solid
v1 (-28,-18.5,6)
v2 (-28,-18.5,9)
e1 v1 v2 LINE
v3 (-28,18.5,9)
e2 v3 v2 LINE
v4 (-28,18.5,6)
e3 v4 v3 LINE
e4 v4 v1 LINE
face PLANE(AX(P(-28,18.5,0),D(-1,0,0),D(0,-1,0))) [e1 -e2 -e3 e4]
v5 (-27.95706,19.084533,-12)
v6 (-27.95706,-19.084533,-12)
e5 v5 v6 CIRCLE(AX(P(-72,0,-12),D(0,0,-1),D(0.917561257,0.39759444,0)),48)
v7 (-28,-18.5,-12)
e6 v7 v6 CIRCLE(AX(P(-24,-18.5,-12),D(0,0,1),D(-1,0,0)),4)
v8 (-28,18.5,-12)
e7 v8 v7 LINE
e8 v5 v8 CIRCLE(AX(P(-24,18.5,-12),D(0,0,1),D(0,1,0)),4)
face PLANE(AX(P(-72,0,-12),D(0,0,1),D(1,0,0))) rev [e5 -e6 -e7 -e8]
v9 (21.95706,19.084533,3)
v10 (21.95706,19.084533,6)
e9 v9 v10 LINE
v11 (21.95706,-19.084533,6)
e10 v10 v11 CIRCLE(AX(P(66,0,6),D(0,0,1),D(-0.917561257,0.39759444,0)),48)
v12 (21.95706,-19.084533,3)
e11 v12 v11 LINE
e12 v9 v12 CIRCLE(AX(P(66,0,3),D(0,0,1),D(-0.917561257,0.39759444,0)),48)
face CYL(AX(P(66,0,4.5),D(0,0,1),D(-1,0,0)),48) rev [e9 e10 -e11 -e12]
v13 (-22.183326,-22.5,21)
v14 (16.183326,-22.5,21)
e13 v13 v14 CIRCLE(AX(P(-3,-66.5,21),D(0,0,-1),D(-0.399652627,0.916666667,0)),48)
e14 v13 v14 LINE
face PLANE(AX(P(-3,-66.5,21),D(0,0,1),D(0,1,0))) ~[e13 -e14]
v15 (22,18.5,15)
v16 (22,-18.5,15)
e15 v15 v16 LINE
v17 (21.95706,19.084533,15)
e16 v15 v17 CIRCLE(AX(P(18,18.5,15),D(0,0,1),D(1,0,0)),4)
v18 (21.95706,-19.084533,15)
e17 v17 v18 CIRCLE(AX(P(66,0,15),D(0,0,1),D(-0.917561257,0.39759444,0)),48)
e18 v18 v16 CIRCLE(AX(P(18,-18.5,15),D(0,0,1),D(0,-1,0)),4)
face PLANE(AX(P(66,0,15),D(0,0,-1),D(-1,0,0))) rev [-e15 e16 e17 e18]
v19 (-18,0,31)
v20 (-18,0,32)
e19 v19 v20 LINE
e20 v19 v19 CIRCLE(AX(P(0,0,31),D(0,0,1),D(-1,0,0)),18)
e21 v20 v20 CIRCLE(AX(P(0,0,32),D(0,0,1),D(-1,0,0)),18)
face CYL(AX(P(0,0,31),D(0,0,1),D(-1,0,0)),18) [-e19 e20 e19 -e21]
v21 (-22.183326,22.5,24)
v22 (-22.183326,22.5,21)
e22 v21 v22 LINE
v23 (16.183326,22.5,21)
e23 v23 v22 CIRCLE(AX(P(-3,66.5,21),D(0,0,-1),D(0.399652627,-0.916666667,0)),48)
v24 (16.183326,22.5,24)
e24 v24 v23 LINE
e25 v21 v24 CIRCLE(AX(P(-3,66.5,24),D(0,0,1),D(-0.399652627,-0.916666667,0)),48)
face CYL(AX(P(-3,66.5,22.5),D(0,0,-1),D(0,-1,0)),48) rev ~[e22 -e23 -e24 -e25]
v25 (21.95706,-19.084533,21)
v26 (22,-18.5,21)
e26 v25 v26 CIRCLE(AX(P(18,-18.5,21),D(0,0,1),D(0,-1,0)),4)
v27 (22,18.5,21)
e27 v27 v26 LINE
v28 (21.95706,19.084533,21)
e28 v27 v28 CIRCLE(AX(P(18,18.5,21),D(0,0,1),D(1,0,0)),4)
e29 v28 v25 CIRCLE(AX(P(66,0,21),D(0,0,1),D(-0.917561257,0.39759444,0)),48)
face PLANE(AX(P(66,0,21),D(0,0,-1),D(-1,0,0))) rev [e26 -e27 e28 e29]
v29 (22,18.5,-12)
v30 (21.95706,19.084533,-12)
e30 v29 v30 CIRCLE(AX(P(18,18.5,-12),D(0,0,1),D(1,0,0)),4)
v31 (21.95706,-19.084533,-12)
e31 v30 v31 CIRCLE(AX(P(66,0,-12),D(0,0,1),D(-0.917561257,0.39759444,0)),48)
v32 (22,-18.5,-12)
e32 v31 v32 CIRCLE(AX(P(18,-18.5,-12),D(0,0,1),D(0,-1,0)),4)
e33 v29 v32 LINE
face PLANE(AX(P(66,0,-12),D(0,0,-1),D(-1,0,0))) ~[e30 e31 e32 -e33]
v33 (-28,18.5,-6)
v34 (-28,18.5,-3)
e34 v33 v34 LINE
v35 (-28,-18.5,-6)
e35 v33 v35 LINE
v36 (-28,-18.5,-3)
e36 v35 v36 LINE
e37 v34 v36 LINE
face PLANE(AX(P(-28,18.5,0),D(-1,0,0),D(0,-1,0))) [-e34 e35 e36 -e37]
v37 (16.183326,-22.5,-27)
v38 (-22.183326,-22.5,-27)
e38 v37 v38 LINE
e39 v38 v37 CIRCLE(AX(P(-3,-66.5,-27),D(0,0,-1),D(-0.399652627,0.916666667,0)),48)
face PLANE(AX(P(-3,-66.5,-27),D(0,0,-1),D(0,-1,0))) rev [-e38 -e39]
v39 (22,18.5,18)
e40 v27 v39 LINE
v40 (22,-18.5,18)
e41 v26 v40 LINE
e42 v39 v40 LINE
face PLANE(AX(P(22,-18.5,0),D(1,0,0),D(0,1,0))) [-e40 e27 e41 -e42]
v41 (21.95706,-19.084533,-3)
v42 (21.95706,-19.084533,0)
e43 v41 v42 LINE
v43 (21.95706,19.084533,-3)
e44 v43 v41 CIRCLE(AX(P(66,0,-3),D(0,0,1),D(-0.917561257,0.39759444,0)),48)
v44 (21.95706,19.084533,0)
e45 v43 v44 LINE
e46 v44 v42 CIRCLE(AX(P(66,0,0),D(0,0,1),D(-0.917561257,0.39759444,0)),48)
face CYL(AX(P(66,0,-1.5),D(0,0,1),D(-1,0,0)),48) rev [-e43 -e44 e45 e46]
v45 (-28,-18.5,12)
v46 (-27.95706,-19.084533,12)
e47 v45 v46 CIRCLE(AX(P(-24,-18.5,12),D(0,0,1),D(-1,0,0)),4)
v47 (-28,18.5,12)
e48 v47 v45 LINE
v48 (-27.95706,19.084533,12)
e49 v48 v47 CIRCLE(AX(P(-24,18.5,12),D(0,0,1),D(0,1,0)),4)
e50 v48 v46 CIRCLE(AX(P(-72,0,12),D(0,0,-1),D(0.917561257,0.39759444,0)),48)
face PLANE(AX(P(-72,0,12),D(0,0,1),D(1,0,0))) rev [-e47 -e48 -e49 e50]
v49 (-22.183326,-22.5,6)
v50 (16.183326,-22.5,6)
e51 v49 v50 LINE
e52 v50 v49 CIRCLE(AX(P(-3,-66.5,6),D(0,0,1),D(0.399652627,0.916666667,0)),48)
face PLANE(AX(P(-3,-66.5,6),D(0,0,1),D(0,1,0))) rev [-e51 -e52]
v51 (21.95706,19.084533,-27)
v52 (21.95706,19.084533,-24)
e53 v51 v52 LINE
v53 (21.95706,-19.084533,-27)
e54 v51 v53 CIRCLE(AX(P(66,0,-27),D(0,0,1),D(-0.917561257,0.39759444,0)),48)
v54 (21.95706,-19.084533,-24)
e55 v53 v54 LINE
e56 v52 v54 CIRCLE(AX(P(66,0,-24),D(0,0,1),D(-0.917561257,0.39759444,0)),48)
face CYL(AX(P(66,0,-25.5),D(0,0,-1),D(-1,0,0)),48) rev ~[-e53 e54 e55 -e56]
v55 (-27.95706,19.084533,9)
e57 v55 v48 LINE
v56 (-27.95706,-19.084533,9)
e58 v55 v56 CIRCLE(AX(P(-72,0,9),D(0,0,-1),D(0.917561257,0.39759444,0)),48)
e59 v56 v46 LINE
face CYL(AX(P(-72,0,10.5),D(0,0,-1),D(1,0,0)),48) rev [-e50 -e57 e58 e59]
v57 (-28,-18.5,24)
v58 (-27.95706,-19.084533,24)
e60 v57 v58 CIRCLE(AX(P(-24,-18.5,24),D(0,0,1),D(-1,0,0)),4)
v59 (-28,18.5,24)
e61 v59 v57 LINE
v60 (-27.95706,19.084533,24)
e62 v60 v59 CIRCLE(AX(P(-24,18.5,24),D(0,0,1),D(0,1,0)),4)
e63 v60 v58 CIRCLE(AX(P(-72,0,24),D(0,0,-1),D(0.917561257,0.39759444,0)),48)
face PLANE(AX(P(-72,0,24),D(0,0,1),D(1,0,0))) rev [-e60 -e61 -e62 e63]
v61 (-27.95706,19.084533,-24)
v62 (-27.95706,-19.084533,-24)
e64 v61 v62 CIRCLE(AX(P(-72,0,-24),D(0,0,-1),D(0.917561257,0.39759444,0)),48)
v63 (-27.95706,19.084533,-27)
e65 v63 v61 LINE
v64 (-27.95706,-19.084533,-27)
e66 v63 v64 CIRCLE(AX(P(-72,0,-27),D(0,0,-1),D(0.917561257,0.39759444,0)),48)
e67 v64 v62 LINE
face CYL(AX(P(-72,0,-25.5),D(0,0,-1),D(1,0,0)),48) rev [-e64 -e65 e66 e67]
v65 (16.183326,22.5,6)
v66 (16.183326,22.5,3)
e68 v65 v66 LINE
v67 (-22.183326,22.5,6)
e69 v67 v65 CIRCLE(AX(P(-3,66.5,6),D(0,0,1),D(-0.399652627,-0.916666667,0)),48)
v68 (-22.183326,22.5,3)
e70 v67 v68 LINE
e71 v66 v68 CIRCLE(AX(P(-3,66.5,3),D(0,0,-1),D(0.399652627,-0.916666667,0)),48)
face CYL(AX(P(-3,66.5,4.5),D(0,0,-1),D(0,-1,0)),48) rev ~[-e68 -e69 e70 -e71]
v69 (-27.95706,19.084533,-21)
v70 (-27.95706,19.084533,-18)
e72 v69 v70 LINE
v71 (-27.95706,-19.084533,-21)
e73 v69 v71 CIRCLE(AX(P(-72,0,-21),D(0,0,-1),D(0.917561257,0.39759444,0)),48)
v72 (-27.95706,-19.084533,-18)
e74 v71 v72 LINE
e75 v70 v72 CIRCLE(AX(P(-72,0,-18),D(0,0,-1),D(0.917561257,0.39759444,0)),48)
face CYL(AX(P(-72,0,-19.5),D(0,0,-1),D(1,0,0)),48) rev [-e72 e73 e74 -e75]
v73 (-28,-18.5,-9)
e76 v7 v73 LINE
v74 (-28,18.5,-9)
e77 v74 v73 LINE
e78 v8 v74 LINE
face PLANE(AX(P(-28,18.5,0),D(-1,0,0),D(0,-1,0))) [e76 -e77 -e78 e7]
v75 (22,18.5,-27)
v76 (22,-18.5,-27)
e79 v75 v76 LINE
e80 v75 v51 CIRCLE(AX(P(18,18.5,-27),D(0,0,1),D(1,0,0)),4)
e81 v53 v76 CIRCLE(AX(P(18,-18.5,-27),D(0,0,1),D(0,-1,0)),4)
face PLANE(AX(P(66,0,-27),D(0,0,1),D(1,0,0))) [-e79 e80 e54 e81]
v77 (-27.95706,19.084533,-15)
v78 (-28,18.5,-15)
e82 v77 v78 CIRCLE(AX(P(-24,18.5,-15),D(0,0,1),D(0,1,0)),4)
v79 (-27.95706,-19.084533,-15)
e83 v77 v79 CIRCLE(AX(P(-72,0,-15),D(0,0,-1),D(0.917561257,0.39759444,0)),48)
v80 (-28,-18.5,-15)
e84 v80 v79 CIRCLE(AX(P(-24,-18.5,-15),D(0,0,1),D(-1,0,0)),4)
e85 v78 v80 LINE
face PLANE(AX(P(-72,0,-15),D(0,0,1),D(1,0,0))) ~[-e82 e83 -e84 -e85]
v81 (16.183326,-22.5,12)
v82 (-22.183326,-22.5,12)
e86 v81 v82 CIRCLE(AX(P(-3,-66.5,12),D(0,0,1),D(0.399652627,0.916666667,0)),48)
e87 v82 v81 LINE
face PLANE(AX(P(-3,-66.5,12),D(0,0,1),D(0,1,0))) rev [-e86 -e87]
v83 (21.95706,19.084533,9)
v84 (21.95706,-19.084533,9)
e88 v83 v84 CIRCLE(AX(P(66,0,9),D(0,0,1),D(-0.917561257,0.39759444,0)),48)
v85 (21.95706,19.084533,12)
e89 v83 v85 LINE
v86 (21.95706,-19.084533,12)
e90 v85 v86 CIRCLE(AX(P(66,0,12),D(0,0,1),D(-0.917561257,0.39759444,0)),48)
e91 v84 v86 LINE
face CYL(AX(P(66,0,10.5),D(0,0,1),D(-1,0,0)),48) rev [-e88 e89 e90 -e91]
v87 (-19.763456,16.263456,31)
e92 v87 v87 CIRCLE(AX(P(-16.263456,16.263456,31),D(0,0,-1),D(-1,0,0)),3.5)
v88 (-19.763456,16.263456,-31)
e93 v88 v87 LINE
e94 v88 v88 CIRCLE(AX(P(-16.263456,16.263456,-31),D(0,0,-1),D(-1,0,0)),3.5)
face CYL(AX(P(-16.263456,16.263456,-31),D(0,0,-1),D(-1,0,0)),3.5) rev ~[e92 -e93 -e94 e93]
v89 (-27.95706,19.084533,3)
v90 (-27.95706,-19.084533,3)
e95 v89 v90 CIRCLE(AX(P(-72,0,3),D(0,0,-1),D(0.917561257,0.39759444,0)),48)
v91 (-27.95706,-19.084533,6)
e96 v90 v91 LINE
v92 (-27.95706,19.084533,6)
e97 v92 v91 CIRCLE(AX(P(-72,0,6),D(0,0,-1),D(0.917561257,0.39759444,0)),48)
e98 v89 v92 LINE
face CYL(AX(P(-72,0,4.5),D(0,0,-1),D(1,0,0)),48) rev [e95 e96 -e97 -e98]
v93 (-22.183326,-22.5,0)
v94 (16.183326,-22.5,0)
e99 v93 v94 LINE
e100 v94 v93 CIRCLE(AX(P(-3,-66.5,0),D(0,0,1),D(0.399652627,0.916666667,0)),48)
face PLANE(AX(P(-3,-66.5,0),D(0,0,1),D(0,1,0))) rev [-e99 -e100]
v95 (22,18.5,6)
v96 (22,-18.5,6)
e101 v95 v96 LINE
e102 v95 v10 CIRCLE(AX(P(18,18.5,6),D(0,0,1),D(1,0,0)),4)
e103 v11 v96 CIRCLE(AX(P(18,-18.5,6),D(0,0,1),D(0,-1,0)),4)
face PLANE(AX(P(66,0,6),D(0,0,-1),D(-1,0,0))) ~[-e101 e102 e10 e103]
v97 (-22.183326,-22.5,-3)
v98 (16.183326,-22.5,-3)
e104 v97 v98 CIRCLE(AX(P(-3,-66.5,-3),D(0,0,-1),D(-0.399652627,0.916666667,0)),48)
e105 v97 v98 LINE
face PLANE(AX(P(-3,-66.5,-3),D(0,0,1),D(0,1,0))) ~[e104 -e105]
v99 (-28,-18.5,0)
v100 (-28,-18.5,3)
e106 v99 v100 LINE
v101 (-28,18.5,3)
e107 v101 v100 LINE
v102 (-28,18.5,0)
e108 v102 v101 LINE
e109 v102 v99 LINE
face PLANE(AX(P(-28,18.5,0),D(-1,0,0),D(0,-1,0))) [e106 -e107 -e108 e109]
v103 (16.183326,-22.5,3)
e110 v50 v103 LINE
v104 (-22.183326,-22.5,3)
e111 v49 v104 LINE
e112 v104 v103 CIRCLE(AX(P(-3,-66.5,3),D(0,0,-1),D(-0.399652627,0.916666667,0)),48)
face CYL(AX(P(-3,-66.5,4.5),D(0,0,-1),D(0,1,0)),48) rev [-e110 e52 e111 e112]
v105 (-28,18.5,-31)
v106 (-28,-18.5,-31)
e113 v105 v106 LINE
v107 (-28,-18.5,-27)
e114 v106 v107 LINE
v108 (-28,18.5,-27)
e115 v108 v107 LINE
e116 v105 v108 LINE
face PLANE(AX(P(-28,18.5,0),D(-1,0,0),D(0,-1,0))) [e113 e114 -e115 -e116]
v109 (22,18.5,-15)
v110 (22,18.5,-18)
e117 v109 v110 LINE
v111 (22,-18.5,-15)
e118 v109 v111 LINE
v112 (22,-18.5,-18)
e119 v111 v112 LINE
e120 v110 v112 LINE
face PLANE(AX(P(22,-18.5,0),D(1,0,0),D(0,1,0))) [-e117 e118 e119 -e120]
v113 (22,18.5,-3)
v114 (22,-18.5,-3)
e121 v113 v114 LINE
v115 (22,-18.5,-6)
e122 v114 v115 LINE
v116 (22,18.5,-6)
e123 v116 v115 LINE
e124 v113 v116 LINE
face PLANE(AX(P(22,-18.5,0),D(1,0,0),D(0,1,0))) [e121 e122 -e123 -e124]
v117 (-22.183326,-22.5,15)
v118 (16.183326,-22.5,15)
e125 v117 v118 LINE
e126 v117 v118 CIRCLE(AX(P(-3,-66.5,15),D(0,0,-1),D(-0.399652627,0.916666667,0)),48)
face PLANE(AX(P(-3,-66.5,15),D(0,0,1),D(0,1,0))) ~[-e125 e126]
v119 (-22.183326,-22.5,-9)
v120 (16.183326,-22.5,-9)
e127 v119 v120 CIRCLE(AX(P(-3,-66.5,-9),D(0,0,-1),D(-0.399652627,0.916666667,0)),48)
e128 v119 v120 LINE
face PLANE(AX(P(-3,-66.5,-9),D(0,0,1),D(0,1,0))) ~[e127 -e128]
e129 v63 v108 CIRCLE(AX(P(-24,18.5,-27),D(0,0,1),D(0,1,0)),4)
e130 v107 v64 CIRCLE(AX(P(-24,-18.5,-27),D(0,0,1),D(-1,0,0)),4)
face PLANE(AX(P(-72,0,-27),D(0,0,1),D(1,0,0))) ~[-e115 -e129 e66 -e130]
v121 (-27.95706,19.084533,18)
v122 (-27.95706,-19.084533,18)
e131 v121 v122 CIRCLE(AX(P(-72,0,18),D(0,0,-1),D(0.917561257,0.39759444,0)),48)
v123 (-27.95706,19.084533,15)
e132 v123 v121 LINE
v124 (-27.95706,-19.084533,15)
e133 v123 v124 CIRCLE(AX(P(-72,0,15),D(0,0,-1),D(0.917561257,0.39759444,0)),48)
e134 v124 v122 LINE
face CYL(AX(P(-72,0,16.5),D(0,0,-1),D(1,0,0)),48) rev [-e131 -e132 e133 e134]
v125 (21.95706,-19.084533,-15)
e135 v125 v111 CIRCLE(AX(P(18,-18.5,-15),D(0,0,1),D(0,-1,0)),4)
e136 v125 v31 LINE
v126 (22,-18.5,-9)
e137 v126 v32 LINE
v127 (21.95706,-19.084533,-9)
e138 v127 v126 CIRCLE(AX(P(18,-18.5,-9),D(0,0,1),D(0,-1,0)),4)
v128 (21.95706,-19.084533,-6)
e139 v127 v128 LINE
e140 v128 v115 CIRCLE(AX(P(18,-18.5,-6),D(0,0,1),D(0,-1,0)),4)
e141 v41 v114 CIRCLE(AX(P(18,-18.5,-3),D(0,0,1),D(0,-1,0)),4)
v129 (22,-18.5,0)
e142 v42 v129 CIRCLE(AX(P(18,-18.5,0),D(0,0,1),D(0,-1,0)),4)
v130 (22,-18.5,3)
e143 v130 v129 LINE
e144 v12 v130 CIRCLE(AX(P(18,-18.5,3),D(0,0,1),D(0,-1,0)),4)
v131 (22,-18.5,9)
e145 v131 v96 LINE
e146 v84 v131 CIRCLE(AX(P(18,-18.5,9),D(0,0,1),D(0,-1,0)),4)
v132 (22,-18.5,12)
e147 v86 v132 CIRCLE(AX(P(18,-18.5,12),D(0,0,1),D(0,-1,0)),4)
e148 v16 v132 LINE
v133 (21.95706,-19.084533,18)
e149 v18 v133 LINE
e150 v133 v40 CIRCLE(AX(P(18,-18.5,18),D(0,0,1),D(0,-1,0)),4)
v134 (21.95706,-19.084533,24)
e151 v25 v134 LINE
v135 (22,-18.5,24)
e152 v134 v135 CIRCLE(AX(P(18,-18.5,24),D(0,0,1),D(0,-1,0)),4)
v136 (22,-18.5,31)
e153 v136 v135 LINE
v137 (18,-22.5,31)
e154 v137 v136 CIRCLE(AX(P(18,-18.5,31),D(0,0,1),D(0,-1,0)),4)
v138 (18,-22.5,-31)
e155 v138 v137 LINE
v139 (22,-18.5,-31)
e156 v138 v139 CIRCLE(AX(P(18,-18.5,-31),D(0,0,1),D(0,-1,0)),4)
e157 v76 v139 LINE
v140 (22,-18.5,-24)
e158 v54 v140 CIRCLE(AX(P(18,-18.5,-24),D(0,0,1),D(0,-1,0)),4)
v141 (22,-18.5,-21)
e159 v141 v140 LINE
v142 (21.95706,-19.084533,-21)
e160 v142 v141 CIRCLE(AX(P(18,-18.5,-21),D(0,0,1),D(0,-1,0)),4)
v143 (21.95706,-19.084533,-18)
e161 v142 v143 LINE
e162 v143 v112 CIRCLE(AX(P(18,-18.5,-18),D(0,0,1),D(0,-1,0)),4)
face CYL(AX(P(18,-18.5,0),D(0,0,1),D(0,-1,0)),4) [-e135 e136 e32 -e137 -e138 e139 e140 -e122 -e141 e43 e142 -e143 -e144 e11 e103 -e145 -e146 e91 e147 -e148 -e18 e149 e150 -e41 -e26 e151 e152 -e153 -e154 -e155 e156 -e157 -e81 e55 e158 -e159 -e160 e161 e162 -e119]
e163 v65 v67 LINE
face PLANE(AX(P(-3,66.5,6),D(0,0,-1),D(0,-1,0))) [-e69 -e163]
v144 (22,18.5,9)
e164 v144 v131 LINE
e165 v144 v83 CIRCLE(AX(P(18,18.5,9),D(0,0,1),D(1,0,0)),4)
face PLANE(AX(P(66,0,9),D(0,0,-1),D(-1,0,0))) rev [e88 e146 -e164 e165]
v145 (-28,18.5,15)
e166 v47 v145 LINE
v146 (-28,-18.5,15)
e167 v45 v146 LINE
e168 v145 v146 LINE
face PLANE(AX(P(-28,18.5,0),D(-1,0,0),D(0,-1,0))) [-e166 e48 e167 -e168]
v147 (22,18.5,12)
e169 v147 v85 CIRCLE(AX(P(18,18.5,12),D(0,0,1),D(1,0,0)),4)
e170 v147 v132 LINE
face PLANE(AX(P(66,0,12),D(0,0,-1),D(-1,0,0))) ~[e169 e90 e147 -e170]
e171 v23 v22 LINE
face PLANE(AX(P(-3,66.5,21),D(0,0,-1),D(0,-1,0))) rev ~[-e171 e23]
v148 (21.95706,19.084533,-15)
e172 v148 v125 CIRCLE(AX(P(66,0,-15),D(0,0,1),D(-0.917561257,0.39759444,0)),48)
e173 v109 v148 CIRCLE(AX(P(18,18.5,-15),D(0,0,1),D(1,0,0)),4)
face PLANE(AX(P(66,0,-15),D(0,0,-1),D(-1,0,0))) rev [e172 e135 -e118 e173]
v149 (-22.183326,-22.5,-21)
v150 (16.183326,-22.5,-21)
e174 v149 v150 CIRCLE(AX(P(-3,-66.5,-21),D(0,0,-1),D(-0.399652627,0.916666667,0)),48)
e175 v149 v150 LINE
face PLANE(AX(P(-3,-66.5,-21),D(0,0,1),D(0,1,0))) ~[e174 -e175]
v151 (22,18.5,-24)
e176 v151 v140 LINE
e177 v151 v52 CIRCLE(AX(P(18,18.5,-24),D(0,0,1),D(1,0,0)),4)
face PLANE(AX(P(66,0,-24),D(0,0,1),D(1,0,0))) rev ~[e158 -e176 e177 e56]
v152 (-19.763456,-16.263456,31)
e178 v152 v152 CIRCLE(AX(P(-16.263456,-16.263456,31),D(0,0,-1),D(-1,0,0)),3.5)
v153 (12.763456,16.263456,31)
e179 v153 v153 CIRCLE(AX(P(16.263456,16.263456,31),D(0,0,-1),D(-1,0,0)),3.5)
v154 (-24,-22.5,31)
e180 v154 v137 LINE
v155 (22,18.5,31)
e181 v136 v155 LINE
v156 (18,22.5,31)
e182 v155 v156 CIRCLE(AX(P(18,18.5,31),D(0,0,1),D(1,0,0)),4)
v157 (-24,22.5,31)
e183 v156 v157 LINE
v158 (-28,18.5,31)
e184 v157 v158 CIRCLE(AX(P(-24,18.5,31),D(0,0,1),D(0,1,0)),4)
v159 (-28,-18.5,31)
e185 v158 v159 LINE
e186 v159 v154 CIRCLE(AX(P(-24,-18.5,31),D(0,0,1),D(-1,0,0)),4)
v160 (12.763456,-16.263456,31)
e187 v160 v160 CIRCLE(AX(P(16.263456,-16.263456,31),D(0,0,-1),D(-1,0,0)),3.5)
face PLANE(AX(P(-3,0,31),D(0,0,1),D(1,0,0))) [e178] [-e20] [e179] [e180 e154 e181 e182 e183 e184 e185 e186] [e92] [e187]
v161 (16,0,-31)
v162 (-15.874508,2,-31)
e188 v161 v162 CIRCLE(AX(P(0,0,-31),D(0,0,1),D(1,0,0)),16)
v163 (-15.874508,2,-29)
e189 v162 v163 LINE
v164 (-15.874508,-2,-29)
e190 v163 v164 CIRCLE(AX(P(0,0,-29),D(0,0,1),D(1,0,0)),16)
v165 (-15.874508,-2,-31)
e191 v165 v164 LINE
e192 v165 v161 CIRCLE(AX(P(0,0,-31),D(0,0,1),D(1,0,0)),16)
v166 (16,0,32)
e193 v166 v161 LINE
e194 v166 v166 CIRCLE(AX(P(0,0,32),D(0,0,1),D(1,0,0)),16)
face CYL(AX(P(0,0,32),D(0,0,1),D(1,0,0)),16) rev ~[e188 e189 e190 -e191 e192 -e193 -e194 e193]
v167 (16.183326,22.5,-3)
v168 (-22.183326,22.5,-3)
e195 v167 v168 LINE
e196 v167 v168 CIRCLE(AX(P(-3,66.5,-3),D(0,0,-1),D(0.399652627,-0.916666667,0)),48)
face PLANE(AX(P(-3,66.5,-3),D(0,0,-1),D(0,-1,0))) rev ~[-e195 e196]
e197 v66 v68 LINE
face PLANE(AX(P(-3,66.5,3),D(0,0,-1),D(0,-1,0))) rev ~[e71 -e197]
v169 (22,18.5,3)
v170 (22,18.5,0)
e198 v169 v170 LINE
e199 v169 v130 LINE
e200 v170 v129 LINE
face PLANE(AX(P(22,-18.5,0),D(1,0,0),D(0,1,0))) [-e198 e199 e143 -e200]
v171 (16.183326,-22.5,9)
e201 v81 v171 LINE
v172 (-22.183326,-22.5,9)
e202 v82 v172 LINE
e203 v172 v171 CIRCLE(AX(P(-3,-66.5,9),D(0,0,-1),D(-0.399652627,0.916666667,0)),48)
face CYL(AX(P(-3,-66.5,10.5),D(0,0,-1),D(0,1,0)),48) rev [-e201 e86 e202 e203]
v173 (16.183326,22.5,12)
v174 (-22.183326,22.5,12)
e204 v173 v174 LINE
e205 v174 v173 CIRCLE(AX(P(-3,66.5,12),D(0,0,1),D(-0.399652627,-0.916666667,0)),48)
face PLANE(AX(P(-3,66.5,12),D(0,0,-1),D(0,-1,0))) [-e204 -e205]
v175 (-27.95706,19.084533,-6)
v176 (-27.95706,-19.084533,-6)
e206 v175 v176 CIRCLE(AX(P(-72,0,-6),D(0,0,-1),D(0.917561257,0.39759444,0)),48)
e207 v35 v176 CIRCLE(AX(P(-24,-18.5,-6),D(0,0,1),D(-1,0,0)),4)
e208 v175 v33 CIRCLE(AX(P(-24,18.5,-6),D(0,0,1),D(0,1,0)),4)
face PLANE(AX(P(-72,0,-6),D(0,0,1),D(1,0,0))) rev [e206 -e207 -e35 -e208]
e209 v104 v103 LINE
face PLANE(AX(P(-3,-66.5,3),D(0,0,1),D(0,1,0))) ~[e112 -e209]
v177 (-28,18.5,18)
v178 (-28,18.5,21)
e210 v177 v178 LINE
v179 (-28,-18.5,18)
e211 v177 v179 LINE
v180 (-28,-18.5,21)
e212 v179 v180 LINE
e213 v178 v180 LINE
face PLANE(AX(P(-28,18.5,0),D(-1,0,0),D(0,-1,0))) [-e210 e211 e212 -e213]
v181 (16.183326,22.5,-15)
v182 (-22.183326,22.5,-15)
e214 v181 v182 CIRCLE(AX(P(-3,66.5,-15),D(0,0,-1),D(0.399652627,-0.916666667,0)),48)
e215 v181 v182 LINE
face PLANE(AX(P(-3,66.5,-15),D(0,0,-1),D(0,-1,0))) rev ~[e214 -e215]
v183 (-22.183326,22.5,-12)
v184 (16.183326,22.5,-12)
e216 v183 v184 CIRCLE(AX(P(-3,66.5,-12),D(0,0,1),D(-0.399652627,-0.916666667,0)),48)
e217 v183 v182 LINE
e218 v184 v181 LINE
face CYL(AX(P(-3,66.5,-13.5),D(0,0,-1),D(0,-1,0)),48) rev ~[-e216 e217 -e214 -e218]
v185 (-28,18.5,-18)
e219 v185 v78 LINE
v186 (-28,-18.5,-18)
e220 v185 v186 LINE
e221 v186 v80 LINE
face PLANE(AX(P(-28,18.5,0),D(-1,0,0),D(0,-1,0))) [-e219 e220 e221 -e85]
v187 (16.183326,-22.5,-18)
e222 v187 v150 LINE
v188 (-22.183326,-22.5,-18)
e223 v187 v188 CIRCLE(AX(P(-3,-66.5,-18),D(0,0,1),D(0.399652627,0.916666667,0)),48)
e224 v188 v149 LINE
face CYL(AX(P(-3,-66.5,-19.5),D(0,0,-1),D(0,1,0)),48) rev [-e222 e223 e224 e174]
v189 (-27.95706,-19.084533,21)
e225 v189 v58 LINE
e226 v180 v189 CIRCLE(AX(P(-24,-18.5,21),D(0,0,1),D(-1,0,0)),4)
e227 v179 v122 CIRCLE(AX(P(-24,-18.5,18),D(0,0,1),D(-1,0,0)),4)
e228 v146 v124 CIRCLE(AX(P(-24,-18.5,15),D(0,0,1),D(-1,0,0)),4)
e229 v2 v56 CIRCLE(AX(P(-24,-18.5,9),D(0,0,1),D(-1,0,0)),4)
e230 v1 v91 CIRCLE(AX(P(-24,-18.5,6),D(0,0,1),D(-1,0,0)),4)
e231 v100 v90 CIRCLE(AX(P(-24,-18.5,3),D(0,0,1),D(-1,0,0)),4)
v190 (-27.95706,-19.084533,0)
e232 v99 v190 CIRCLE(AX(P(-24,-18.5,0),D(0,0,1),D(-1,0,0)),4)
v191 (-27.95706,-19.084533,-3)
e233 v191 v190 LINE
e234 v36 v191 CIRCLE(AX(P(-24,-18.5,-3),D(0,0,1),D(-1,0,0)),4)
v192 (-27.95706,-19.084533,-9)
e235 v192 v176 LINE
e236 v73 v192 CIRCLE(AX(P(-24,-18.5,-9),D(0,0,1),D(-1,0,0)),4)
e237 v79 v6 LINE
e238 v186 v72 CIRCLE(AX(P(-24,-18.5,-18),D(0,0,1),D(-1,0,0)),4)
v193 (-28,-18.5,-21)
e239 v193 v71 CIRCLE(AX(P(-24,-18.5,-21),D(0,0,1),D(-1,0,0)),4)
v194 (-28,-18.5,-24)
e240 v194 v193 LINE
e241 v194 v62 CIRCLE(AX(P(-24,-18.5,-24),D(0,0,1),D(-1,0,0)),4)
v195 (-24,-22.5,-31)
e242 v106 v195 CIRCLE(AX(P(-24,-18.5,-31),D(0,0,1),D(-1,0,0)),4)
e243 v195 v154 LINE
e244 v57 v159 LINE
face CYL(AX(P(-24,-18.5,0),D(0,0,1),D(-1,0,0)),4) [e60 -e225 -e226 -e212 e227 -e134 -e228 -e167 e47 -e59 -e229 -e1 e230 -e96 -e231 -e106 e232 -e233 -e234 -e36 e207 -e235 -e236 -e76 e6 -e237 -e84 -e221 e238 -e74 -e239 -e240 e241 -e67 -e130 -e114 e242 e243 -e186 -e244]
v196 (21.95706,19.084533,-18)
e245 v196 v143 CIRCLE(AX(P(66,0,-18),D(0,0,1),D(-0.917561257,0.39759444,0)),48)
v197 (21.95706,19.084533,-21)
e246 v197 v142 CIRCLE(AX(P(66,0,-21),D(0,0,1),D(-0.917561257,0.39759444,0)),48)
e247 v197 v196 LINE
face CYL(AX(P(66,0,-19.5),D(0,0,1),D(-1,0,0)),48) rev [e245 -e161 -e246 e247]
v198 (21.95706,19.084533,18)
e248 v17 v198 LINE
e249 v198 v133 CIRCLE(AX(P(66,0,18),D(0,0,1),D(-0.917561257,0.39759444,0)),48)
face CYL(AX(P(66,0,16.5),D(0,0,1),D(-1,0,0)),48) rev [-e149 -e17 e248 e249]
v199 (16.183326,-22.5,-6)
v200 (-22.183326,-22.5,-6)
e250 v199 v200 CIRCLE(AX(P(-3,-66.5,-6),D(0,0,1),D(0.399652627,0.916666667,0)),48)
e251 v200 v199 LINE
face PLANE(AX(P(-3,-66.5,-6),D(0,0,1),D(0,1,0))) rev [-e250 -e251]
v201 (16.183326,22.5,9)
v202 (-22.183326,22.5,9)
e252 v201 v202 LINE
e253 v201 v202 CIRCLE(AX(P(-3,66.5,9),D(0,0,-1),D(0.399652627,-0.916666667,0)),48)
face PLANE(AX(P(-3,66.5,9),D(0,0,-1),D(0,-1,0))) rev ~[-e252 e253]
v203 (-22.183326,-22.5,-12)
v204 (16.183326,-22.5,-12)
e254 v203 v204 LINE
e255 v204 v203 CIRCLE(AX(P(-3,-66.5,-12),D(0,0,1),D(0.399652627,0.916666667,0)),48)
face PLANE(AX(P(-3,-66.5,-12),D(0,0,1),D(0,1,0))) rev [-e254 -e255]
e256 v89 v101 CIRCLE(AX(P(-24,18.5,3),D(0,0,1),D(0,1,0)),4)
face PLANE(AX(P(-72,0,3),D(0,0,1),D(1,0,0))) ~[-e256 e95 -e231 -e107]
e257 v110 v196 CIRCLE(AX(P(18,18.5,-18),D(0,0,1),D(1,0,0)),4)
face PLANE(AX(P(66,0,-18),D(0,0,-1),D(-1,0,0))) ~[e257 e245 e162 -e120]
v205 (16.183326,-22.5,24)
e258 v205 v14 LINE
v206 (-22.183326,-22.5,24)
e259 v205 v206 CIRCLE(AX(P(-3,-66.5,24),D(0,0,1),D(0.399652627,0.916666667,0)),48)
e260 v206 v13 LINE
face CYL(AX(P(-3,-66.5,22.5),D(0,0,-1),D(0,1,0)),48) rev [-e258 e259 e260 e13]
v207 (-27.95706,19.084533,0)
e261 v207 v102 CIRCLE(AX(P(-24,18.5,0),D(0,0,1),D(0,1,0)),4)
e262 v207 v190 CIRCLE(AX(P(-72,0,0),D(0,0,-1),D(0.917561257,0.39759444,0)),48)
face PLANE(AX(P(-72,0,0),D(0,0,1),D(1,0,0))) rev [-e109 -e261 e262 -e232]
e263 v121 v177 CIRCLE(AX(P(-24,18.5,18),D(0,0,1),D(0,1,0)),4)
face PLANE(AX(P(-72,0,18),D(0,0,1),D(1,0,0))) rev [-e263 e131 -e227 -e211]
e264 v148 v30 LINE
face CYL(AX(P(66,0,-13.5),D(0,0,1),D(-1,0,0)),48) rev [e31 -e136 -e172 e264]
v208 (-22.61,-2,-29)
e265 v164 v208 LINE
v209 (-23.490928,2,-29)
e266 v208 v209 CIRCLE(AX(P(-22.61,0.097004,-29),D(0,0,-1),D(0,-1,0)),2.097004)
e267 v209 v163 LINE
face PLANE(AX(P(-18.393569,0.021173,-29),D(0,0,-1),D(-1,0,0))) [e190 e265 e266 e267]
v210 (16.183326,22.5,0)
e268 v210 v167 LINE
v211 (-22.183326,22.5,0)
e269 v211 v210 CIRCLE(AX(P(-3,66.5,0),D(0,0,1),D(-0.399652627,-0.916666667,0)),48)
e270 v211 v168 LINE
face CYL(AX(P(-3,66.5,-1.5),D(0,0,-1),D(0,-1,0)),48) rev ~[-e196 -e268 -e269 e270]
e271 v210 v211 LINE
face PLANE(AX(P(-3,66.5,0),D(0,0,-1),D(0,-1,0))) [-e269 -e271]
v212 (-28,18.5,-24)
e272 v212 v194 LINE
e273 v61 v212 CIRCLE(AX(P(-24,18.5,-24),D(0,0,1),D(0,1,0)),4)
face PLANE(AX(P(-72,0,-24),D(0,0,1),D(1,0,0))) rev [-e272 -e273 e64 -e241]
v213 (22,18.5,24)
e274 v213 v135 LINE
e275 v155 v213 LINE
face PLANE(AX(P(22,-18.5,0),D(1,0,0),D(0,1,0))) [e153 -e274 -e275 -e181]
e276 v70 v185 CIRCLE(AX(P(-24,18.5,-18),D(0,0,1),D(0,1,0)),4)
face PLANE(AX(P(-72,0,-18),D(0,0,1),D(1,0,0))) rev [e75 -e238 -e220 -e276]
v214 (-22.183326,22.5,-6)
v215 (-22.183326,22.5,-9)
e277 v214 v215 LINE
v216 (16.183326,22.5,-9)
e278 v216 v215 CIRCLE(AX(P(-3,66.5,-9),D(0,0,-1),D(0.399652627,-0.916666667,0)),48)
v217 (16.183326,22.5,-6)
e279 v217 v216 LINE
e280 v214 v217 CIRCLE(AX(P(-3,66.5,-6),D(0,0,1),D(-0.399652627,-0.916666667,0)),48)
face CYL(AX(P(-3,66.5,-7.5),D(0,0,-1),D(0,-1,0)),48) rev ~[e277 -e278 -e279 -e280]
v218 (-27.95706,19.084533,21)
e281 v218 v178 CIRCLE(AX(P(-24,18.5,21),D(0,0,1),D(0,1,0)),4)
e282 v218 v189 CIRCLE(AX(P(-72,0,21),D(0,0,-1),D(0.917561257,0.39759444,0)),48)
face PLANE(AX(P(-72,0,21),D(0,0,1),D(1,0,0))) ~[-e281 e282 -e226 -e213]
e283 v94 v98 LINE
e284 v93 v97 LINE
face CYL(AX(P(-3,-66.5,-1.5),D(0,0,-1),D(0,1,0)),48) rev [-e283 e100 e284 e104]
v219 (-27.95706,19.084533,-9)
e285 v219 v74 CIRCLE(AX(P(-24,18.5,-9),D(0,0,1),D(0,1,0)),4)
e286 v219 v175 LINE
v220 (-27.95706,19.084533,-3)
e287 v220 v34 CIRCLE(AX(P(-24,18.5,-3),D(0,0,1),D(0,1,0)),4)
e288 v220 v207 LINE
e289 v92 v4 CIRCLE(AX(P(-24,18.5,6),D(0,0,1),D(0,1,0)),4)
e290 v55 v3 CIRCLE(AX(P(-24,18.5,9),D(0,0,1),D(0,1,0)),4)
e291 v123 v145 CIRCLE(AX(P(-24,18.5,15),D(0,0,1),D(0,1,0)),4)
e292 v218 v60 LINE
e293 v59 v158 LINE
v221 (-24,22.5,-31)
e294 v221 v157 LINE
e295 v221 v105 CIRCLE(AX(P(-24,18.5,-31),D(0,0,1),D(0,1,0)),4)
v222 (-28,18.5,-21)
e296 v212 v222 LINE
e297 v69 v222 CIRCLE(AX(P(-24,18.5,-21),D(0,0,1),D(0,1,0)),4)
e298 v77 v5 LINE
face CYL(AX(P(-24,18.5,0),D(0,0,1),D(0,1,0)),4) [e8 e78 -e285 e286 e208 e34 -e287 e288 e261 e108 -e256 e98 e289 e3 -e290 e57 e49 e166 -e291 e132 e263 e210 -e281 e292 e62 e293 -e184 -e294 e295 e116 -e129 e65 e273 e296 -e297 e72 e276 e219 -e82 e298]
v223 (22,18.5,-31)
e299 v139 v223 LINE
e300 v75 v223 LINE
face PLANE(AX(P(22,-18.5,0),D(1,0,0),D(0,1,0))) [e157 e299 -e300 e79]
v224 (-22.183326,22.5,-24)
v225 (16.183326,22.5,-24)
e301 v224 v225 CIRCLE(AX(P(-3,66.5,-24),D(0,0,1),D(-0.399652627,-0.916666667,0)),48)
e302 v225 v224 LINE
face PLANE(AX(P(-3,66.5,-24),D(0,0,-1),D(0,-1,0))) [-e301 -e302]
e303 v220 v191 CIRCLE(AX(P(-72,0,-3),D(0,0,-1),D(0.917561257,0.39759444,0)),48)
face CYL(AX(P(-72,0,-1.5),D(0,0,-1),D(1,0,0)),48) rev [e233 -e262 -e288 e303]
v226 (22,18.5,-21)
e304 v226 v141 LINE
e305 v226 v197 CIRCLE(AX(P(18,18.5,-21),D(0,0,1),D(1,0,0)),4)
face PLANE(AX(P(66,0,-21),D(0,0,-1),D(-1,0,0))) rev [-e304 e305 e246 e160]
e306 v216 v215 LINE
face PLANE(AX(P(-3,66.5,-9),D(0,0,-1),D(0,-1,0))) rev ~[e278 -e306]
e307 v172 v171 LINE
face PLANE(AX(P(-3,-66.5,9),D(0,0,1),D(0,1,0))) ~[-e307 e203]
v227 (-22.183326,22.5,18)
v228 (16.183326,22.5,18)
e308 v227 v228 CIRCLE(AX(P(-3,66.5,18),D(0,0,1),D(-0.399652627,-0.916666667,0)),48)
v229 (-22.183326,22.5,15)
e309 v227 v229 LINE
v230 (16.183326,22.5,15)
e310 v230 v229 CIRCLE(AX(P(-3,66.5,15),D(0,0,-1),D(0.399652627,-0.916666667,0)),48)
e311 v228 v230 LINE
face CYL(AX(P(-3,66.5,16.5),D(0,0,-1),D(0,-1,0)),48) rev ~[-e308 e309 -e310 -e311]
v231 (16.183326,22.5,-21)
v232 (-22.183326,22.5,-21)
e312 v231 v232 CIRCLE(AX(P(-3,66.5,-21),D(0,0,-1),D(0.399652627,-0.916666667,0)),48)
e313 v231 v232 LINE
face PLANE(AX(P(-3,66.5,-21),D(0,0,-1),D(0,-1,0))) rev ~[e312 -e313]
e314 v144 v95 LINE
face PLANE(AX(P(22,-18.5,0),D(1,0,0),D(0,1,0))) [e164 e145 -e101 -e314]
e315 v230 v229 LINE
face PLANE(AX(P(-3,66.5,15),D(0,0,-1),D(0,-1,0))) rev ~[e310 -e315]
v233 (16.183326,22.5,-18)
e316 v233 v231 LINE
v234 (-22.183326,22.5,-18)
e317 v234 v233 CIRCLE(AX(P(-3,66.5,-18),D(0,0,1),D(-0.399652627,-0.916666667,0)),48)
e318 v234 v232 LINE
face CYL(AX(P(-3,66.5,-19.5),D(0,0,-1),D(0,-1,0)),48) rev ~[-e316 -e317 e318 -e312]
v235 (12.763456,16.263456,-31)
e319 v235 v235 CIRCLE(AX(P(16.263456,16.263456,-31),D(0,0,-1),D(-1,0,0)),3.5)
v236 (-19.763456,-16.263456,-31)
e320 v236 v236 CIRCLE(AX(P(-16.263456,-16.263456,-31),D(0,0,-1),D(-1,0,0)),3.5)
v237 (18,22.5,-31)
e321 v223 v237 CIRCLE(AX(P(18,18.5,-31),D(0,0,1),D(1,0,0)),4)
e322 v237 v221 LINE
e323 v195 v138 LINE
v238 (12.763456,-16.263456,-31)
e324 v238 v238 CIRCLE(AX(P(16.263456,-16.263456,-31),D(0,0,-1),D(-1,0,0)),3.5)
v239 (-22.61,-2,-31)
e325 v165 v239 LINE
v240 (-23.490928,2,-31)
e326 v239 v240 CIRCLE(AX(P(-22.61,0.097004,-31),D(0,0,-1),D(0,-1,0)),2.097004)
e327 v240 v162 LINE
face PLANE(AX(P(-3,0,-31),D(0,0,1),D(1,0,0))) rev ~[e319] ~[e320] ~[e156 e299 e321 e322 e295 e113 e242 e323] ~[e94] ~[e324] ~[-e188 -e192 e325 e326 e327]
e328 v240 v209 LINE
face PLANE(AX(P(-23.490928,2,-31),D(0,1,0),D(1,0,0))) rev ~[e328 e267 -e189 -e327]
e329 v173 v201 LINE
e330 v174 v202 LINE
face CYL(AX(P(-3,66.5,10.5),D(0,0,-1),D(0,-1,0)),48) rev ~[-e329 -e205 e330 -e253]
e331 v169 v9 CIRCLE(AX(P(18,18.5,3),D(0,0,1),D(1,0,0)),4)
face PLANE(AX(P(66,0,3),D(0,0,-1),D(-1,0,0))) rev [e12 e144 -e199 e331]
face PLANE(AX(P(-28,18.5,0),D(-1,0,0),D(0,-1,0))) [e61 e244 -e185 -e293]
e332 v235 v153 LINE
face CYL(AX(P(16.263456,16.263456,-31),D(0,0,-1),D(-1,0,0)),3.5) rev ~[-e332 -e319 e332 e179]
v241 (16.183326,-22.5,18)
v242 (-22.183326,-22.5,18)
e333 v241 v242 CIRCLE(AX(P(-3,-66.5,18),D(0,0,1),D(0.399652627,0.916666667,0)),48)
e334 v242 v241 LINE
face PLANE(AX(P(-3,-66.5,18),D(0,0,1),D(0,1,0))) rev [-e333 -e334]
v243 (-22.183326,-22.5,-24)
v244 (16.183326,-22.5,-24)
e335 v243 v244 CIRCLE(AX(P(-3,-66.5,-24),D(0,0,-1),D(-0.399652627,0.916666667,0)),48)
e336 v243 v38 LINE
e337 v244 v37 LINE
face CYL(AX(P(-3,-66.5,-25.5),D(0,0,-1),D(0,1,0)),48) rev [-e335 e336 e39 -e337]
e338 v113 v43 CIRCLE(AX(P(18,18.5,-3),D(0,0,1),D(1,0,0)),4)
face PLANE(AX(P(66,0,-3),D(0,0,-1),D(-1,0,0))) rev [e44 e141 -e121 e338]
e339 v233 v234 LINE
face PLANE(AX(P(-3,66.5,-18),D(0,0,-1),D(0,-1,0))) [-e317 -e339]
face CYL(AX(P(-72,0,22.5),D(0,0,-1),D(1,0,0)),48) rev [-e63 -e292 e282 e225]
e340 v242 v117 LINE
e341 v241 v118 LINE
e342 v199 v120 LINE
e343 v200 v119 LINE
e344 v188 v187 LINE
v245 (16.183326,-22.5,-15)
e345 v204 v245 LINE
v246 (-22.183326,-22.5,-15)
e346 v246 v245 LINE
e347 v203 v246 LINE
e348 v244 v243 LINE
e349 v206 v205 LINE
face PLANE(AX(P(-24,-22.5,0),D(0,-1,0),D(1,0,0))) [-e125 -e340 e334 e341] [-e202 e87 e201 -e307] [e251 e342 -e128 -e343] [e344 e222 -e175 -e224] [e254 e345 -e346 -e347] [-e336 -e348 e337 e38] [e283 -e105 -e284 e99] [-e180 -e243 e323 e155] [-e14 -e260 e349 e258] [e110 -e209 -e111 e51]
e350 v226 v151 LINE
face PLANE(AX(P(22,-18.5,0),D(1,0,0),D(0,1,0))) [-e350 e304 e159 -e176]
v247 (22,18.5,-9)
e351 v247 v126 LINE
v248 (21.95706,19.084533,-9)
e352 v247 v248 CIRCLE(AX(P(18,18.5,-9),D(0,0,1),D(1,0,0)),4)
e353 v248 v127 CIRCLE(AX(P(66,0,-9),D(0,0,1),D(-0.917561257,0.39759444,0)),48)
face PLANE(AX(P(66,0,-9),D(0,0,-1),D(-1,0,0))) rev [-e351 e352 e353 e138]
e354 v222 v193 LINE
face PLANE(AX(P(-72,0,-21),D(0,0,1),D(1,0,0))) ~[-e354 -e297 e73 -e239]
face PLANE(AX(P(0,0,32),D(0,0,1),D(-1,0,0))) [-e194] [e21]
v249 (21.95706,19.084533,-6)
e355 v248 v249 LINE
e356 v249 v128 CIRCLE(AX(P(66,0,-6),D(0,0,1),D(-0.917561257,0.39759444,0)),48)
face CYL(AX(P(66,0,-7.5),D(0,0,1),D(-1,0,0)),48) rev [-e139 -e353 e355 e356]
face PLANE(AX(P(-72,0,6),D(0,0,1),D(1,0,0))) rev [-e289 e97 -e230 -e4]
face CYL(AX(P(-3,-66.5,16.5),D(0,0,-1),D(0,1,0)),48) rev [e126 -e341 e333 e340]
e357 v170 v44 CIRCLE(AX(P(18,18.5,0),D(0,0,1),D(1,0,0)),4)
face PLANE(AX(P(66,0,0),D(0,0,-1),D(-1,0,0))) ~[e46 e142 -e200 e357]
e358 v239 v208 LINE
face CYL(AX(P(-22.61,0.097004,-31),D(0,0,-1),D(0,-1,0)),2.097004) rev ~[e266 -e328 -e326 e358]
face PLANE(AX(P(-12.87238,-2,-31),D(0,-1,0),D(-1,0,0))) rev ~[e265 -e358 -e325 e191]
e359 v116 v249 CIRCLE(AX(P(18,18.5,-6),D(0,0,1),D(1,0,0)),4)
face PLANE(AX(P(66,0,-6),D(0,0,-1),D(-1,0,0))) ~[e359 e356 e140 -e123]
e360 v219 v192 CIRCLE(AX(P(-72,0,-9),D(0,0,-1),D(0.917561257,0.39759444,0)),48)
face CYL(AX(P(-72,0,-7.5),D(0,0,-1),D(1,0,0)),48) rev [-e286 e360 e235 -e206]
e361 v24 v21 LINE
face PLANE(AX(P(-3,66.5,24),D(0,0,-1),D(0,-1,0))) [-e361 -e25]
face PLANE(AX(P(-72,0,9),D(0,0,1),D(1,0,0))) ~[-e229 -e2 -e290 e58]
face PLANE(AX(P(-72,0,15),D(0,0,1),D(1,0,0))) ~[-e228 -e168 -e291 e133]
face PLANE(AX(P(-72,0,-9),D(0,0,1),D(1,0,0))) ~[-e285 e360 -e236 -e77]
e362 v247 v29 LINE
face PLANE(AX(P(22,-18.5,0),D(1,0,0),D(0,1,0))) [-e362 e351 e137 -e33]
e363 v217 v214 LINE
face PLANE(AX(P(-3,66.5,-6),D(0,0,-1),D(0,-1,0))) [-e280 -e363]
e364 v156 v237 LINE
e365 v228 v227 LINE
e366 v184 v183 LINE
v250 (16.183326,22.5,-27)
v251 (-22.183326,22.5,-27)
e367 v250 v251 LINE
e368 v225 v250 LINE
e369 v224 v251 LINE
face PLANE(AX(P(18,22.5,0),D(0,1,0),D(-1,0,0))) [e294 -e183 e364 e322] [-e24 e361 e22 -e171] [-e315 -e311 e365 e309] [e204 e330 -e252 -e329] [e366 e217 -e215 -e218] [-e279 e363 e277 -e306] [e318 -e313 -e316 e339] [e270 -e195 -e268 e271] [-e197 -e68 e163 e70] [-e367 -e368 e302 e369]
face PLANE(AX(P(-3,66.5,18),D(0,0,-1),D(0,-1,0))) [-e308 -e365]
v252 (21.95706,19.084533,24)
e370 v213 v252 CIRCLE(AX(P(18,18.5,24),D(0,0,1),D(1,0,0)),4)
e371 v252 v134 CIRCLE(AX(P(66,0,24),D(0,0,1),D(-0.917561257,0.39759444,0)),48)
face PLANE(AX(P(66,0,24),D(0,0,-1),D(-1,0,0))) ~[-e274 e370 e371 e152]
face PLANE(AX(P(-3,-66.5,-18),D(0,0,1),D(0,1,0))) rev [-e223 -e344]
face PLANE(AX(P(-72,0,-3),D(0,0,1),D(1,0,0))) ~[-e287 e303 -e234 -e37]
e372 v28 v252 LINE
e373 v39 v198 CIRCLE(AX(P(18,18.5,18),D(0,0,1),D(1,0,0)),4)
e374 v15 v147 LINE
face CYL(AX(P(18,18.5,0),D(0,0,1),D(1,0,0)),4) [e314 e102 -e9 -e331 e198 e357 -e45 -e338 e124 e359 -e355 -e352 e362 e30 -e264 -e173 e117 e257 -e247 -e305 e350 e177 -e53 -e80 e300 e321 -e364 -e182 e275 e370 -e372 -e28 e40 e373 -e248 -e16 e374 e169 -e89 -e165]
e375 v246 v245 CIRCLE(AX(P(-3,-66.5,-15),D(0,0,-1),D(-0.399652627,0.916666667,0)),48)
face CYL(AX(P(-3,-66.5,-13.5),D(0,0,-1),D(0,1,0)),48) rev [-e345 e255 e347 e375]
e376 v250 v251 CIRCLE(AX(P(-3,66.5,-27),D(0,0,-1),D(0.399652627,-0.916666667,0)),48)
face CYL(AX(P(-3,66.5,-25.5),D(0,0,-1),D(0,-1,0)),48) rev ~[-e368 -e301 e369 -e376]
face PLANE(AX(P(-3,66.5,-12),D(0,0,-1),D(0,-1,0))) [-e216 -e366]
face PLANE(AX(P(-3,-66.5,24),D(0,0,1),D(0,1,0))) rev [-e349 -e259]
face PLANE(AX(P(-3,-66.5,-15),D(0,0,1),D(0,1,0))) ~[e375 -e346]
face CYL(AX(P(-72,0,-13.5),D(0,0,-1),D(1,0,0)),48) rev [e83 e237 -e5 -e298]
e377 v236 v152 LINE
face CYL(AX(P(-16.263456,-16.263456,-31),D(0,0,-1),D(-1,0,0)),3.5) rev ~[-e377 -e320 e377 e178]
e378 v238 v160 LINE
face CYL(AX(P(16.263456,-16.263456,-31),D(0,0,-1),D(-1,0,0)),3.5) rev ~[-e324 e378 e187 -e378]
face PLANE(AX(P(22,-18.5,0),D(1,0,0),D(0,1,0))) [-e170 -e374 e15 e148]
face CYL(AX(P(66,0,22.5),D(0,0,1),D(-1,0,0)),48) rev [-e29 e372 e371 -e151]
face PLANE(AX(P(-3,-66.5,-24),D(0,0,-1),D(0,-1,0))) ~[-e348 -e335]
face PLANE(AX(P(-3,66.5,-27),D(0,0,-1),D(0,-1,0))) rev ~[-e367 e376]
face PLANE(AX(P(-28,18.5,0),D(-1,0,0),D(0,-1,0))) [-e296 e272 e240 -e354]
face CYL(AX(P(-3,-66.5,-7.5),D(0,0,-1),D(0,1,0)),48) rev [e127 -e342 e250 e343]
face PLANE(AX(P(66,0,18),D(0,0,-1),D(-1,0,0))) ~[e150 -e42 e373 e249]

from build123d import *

# Parameters (mm, degrees)
BOSS_EXTRUDE1_DEPTH     = 31
SKETCH2_R               = 18
BOSS_EXTRUDE2_DEPTH     = 1
SKETCH3_R               = 16
CUT_EXTRUDE1_DEPTH      = 73.520686704
CUT_EXTRUDE2_DEPTH      = 2
SKETCH5_R               = 3.5
CUT_EXTRUDE3_DEPTH      = 73.520686704
SKETCH6_W               = 3
SKETCH6_H               = 48
LPATTERN2_COUNT         = 9
LPATTERN2_PITCH         = 6
MIRROR1_COPY_1_SKETCH_W = 3
MIRROR1_COPY_1_SKETCH_H = 48
MIRROR1_COPY_2_SKETCH_W = 3
MIRROR1_COPY_2_SKETCH_H = 48
MIRROR1_COPY_3_SKETCH_W = 3
MIRROR1_COPY_3_SKETCH_H = 48
MIRROR1_COPY_4_SKETCH_W = 3
MIRROR1_COPY_4_SKETCH_H = 48
MIRROR1_COPY_5_SKETCH_W = 3
MIRROR1_COPY_5_SKETCH_H = 48
MIRROR1_COPY_6_SKETCH_W = 3
MIRROR1_COPY_6_SKETCH_H = 48
MIRROR1_COPY_7_SKETCH_W = 3
MIRROR1_COPY_7_SKETCH_H = 48
MIRROR1_COPY_8_SKETCH_W = 3
MIRROR1_COPY_8_SKETCH_H = 48
SKETCH8_W               = 48
SKETCH8_H               = 3
LPATTERN3_COUNT         = 9
LPATTERN3_PITCH         = 6
MIRROR2_COPY_1_SKETCH_W = 48
MIRROR2_COPY_1_SKETCH_H = 3
MIRROR2_COPY_2_SKETCH_W = 48
MIRROR2_COPY_2_SKETCH_H = 3
MIRROR2_COPY_3_SKETCH_W = 48
MIRROR2_COPY_3_SKETCH_H = 3
MIRROR2_COPY_4_SKETCH_W = 48
MIRROR2_COPY_4_SKETCH_H = 3
MIRROR2_COPY_5_SKETCH_W = 48
MIRROR2_COPY_5_SKETCH_H = 3
MIRROR2_COPY_6_SKETCH_W = 48
MIRROR2_COPY_6_SKETCH_H = 3
MIRROR2_COPY_7_SKETCH_W = 48
MIRROR2_COPY_7_SKETCH_H = 3
MIRROR2_COPY_8_SKETCH_W = 48
MIRROR2_COPY_8_SKETCH_H = 3


with BuildPart() as part:
    # Sketch1 → Boss-Extrude1 (new, symmetric)
    with BuildSketch(Plane.XY):
        with BuildLine():
            Line((18, 22.5), (-24, 22.5))
            ThreePointArc((-24, 22.5), (-26.828427125, 21.328427125), (-28, 18.5))
            Line((-28, 18.5), (-28, -18.5))
            ThreePointArc((-28, -18.5), (-26.828427125, -21.328427125), (-24, -22.5))
            Line((-24, -22.5), (18, -22.5))
            ThreePointArc((18, -22.5), (20.828427125, -21.328427125), (22, -18.5))
            Line((22, -18.5), (22, 18.5))
            ThreePointArc((22, 18.5), (20.828427125, 21.328427125), (18, 22.5))
        make_face()
    extrude(amount=BOSS_EXTRUDE1_DEPTH, both=True)

    # Sketch2 → Boss-Extrude2 (add, symmetric)
    with BuildSketch(Plane.XY.offset(31)):
        with Locations(Location((0, 0, 0), (0, 0, 180))):
            Circle(SKETCH2_R)
    extrude(amount=BOSS_EXTRUDE2_DEPTH, both=True)

    # Sketch3 → Cut-Extrude1 (cut, through all)
    with BuildSketch(Plane.XY.offset(32)):
        Circle(SKETCH3_R)
    extrude(amount=-CUT_EXTRUDE1_DEPTH, mode=Mode.SUBTRACT)

    # Sketch4 → Cut-Extrude2 (cut)
    with BuildSketch(Plane(origin=(0, 0, -31), x_dir=(-1, 0, 0), z_dir=(0, 0, -1))):
        with BuildLine():
            Line((12.872380115, 2), (12.872380115, -2))
            Line((12.872380115, -2), (22.61, -2))
            ThreePointArc((22.61, -2), (24.657927917, -0.354015138), (23.490928495, 2))
            Line((23.490928495, 2), (12.872380115, 2))
        make_face()
    extrude(amount=-CUT_EXTRUDE2_DEPTH, mode=Mode.SUBTRACT)

    # Sketch5 → Cut-Extrude3 (cut, through all)
    with BuildSketch(Plane(origin=(0, 0, -31), x_dir=(-1, 0, 0), z_dir=(0, 0, -1))):
        with Locations((-16.263455967, 16.263455967)):
            Circle(SKETCH5_R)
        with Locations((16.263455967, 16.263455967)):
            Circle(SKETCH5_R)
        with Locations((16.263455967, -16.263455967)):
            Circle(SKETCH5_R)
        with Locations((-16.263455967, -16.263455967)):
            Circle(SKETCH5_R)
    extrude(amount=-CUT_EXTRUDE3_DEPTH, mode=Mode.SUBTRACT)

    # Sketch6 → Cut-Revolve1 (revolve, cut)
    with BuildSketch(Plane(origin=(-3, 0, 0), x_dir=(0, 0, -1), z_dir=(1, 0, 0))):
        with Locations((25.5, 42.5)):
            Rectangle(SKETCH6_W, SKETCH6_H)
    cut_revolve1 = revolve(axis=Axis((-3, 66.5, -24), (0, 0, -1)), mode=Mode.SUBTRACT)

    # LPattern2: Cut-Revolve1 ×9
    with Locations(*[(0, 0, i * LPATTERN2_PITCH) for i in range(1, LPATTERN2_COUNT)]):
        add(cut_revolve1, mode=Mode.SUBTRACT)

    # Mirror1: Cut-Revolve1 across plane
    add(cut_revolve1.mirror(Plane.ZX), mode=Mode.SUBTRACT)

    # Mirror1 copy 1 sketch → Mirror1 copy 1 (revolve, cut)
    with BuildSketch(Plane(origin=(-3, 0, 6), x_dir=(0, 0, -1), z_dir=(1, 0, 0))):
        with Locations((25.5, -42.5)):
            Rectangle(MIRROR1_COPY_1_SKETCH_W, MIRROR1_COPY_1_SKETCH_H)
    revolve(axis=Axis((-3, -66.5, -18), (0, 0, 1)), mode=Mode.SUBTRACT)

    # Mirror1 copy 2 sketch → Mirror1 copy 2 (revolve, cut)
    with BuildSketch(Plane(origin=(-3, 0, 12), x_dir=(0, 0, -1), z_dir=(1, 0, 0))):
        with Locations((25.5, -42.5)):
            Rectangle(MIRROR1_COPY_2_SKETCH_W, MIRROR1_COPY_2_SKETCH_H)
    revolve(axis=Axis((-3, -66.5, -12), (0, 0, 1)), mode=Mode.SUBTRACT)

    # Mirror1 copy 3 sketch → Mirror1 copy 3 (revolve, cut)
    with BuildSketch(Plane(origin=(-3, 0, 18), x_dir=(0, 0, -1), z_dir=(1, 0, 0))):
        with Locations((25.5, -42.5)):
            Rectangle(MIRROR1_COPY_3_SKETCH_W, MIRROR1_COPY_3_SKETCH_H)
    revolve(axis=Axis((-3, -66.5, -6), (0, 0, 1)), mode=Mode.SUBTRACT)

    # Mirror1 copy 4 sketch → Mirror1 copy 4 (revolve, cut)
    with BuildSketch(Plane(origin=(-3, 0, 24), x_dir=(0, 0, -1), z_dir=(1, 0, 0))):
        with Locations((25.5, -42.5)):
            Rectangle(MIRROR1_COPY_4_SKETCH_W, MIRROR1_COPY_4_SKETCH_H)
    revolve(axis=Axis((-3, -66.5, 0), (0, 0, 1)), mode=Mode.SUBTRACT)

    # Mirror1 copy 5 sketch → Mirror1 copy 5 (revolve, cut)
    with BuildSketch(Plane(origin=(-3, 0, 30), x_dir=(0, 0, -1), z_dir=(1, 0, 0))):
        with Locations((25.5, -42.5)):
            Rectangle(MIRROR1_COPY_5_SKETCH_W, MIRROR1_COPY_5_SKETCH_H)
    revolve(axis=Axis((-3, -66.5, 6), (0, 0, 1)), mode=Mode.SUBTRACT)

    # Mirror1 copy 6 sketch → Mirror1 copy 6 (revolve, cut)
    with BuildSketch(Plane(origin=(-3, 0, 36), x_dir=(0, 0, -1), z_dir=(1, 0, 0))):
        with Locations((25.5, -42.5)):
            Rectangle(MIRROR1_COPY_6_SKETCH_W, MIRROR1_COPY_6_SKETCH_H)
    revolve(axis=Axis((-3, -66.5, 12), (0, 0, 1)), mode=Mode.SUBTRACT)

    # Mirror1 copy 7 sketch → Mirror1 copy 7 (revolve, cut)
    with BuildSketch(Plane(origin=(-3, 0, 42), x_dir=(0, 0, -1), z_dir=(1, 0, 0))):
        with Locations((25.5, -42.5)):
            Rectangle(MIRROR1_COPY_7_SKETCH_W, MIRROR1_COPY_7_SKETCH_H)
    revolve(axis=Axis((-3, -66.5, 18), (0, 0, 1)), mode=Mode.SUBTRACT)

    # Mirror1 copy 8 sketch → Mirror1 copy 8 (revolve, cut)
    with BuildSketch(Plane(origin=(-3, 0, 48), x_dir=(0, 0, -1), z_dir=(1, 0, 0))):
        with Locations((25.5, -42.5)):
            Rectangle(MIRROR1_COPY_8_SKETCH_W, MIRROR1_COPY_8_SKETCH_H)
    revolve(axis=Axis((-3, -66.5, 24), (0, 0, 1)), mode=Mode.SUBTRACT)

    # Sketch8 → Cut-Revolve2 (revolve, cut)
    with BuildSketch(Plane(origin=(0, 0, 0), x_dir=(1, 0, 0), z_dir=(0, 1, 0))):
        with Locations((-48, 25.5)):
            Rectangle(SKETCH8_W, SKETCH8_H)
    cut_revolve2 = revolve(axis=Axis((-72, 0, -27), (0, 0, 1)), mode=Mode.SUBTRACT)

    # LPattern3: Cut-Revolve2 ×9
    with Locations(*[(0, 0, i * LPATTERN3_PITCH) for i in range(1, LPATTERN3_COUNT)]):
        add(cut_revolve2, mode=Mode.SUBTRACT)

    # Mirror2: Cut-Revolve2 across plane
    add(cut_revolve2.mirror(Plane(origin=(-3, 0, 0), x_dir=(0, 0, 1), z_dir=(1, 0, 0))), mode=Mode.SUBTRACT)

    # Mirror2 copy 1 sketch → Mirror2 copy 1 (revolve, cut)
    with BuildSketch(Plane(origin=(-6, 0, 6), x_dir=(-1, 0, 0), z_dir=(0, 1, 0))):
        with Locations((-48, -25.5)):
            Rectangle(MIRROR2_COPY_1_SKETCH_W, MIRROR2_COPY_1_SKETCH_H)
    revolve(axis=Axis((66, 0, -21), (0, 0, -1)), mode=Mode.SUBTRACT)

    # Mirror2 copy 2 sketch → Mirror2 copy 2 (revolve, cut)
    with BuildSketch(Plane(origin=(-6, 0, 12), x_dir=(-1, 0, 0), z_dir=(0, 1, 0))):
        with Locations((-48, -25.5)):
            Rectangle(MIRROR2_COPY_2_SKETCH_W, MIRROR2_COPY_2_SKETCH_H)
    revolve(axis=Axis((66, 0, -15), (0, 0, -1)), mode=Mode.SUBTRACT)

    # Mirror2 copy 3 sketch → Mirror2 copy 3 (revolve, cut)
    with BuildSketch(Plane(origin=(-6, 0, 18), x_dir=(-1, 0, 0), z_dir=(0, 1, 0))):
        with Locations((-48, -25.5)):
            Rectangle(MIRROR2_COPY_3_SKETCH_W, MIRROR2_COPY_3_SKETCH_H)
    revolve(axis=Axis((66, 0, -9), (0, 0, -1)), mode=Mode.SUBTRACT)

    # Mirror2 copy 4 sketch → Mirror2 copy 4 (revolve, cut)
    with BuildSketch(Plane(origin=(-6, 0, 24), x_dir=(-1, 0, 0), z_dir=(0, 1, 0))):
        with Locations((-48, -25.5)):
            Rectangle(MIRROR2_COPY_4_SKETCH_W, MIRROR2_COPY_4_SKETCH_H)
    revolve(axis=Axis((66, 0, -3), (0, 0, -1)), mode=Mode.SUBTRACT)

    # Mirror2 copy 5 sketch → Mirror2 copy 5 (revolve, cut)
    with BuildSketch(Plane(origin=(-6, 0, 30), x_dir=(-1, 0, 0), z_dir=(0, 1, 0))):
        with Locations((-48, -25.5)):
            Rectangle(MIRROR2_COPY_5_SKETCH_W, MIRROR2_COPY_5_SKETCH_H)
    revolve(axis=Axis((66, 0, 3), (0, 0, -1)), mode=Mode.SUBTRACT)

    # Mirror2 copy 6 sketch → Mirror2 copy 6 (revolve, cut)
    with BuildSketch(Plane(origin=(-6, 0, 36), x_dir=(-1, 0, 0), z_dir=(0, 1, 0))):
        with Locations((-48, -25.5)):
            Rectangle(MIRROR2_COPY_6_SKETCH_W, MIRROR2_COPY_6_SKETCH_H)
    revolve(axis=Axis((66, 0, 9), (0, 0, -1)), mode=Mode.SUBTRACT)

    # Mirror2 copy 7 sketch → Mirror2 copy 7 (revolve, cut)
    with BuildSketch(Plane(origin=(-6, 0, 42), x_dir=(-1, 0, 0), z_dir=(0, 1, 0))):
        with Locations((-48, -25.5)):
            Rectangle(MIRROR2_COPY_7_SKETCH_W, MIRROR2_COPY_7_SKETCH_H)
    revolve(axis=Axis((66, 0, 15), (0, 0, -1)), mode=Mode.SUBTRACT)

    # Mirror2 copy 8 sketch → Mirror2 copy 8 (revolve, cut)
    with BuildSketch(Plane(origin=(-6, 0, 48), x_dir=(-1, 0, 0), z_dir=(0, 1, 0))):
        with Locations((-48, -25.5)):
            Rectangle(MIRROR2_COPY_8_SKETCH_W, MIRROR2_COPY_8_SKETCH_H)
    revolve(axis=Axis((66, 0, 21), (0, 0, -1)), mode=Mode.SUBTRACT)


solid = part.part
